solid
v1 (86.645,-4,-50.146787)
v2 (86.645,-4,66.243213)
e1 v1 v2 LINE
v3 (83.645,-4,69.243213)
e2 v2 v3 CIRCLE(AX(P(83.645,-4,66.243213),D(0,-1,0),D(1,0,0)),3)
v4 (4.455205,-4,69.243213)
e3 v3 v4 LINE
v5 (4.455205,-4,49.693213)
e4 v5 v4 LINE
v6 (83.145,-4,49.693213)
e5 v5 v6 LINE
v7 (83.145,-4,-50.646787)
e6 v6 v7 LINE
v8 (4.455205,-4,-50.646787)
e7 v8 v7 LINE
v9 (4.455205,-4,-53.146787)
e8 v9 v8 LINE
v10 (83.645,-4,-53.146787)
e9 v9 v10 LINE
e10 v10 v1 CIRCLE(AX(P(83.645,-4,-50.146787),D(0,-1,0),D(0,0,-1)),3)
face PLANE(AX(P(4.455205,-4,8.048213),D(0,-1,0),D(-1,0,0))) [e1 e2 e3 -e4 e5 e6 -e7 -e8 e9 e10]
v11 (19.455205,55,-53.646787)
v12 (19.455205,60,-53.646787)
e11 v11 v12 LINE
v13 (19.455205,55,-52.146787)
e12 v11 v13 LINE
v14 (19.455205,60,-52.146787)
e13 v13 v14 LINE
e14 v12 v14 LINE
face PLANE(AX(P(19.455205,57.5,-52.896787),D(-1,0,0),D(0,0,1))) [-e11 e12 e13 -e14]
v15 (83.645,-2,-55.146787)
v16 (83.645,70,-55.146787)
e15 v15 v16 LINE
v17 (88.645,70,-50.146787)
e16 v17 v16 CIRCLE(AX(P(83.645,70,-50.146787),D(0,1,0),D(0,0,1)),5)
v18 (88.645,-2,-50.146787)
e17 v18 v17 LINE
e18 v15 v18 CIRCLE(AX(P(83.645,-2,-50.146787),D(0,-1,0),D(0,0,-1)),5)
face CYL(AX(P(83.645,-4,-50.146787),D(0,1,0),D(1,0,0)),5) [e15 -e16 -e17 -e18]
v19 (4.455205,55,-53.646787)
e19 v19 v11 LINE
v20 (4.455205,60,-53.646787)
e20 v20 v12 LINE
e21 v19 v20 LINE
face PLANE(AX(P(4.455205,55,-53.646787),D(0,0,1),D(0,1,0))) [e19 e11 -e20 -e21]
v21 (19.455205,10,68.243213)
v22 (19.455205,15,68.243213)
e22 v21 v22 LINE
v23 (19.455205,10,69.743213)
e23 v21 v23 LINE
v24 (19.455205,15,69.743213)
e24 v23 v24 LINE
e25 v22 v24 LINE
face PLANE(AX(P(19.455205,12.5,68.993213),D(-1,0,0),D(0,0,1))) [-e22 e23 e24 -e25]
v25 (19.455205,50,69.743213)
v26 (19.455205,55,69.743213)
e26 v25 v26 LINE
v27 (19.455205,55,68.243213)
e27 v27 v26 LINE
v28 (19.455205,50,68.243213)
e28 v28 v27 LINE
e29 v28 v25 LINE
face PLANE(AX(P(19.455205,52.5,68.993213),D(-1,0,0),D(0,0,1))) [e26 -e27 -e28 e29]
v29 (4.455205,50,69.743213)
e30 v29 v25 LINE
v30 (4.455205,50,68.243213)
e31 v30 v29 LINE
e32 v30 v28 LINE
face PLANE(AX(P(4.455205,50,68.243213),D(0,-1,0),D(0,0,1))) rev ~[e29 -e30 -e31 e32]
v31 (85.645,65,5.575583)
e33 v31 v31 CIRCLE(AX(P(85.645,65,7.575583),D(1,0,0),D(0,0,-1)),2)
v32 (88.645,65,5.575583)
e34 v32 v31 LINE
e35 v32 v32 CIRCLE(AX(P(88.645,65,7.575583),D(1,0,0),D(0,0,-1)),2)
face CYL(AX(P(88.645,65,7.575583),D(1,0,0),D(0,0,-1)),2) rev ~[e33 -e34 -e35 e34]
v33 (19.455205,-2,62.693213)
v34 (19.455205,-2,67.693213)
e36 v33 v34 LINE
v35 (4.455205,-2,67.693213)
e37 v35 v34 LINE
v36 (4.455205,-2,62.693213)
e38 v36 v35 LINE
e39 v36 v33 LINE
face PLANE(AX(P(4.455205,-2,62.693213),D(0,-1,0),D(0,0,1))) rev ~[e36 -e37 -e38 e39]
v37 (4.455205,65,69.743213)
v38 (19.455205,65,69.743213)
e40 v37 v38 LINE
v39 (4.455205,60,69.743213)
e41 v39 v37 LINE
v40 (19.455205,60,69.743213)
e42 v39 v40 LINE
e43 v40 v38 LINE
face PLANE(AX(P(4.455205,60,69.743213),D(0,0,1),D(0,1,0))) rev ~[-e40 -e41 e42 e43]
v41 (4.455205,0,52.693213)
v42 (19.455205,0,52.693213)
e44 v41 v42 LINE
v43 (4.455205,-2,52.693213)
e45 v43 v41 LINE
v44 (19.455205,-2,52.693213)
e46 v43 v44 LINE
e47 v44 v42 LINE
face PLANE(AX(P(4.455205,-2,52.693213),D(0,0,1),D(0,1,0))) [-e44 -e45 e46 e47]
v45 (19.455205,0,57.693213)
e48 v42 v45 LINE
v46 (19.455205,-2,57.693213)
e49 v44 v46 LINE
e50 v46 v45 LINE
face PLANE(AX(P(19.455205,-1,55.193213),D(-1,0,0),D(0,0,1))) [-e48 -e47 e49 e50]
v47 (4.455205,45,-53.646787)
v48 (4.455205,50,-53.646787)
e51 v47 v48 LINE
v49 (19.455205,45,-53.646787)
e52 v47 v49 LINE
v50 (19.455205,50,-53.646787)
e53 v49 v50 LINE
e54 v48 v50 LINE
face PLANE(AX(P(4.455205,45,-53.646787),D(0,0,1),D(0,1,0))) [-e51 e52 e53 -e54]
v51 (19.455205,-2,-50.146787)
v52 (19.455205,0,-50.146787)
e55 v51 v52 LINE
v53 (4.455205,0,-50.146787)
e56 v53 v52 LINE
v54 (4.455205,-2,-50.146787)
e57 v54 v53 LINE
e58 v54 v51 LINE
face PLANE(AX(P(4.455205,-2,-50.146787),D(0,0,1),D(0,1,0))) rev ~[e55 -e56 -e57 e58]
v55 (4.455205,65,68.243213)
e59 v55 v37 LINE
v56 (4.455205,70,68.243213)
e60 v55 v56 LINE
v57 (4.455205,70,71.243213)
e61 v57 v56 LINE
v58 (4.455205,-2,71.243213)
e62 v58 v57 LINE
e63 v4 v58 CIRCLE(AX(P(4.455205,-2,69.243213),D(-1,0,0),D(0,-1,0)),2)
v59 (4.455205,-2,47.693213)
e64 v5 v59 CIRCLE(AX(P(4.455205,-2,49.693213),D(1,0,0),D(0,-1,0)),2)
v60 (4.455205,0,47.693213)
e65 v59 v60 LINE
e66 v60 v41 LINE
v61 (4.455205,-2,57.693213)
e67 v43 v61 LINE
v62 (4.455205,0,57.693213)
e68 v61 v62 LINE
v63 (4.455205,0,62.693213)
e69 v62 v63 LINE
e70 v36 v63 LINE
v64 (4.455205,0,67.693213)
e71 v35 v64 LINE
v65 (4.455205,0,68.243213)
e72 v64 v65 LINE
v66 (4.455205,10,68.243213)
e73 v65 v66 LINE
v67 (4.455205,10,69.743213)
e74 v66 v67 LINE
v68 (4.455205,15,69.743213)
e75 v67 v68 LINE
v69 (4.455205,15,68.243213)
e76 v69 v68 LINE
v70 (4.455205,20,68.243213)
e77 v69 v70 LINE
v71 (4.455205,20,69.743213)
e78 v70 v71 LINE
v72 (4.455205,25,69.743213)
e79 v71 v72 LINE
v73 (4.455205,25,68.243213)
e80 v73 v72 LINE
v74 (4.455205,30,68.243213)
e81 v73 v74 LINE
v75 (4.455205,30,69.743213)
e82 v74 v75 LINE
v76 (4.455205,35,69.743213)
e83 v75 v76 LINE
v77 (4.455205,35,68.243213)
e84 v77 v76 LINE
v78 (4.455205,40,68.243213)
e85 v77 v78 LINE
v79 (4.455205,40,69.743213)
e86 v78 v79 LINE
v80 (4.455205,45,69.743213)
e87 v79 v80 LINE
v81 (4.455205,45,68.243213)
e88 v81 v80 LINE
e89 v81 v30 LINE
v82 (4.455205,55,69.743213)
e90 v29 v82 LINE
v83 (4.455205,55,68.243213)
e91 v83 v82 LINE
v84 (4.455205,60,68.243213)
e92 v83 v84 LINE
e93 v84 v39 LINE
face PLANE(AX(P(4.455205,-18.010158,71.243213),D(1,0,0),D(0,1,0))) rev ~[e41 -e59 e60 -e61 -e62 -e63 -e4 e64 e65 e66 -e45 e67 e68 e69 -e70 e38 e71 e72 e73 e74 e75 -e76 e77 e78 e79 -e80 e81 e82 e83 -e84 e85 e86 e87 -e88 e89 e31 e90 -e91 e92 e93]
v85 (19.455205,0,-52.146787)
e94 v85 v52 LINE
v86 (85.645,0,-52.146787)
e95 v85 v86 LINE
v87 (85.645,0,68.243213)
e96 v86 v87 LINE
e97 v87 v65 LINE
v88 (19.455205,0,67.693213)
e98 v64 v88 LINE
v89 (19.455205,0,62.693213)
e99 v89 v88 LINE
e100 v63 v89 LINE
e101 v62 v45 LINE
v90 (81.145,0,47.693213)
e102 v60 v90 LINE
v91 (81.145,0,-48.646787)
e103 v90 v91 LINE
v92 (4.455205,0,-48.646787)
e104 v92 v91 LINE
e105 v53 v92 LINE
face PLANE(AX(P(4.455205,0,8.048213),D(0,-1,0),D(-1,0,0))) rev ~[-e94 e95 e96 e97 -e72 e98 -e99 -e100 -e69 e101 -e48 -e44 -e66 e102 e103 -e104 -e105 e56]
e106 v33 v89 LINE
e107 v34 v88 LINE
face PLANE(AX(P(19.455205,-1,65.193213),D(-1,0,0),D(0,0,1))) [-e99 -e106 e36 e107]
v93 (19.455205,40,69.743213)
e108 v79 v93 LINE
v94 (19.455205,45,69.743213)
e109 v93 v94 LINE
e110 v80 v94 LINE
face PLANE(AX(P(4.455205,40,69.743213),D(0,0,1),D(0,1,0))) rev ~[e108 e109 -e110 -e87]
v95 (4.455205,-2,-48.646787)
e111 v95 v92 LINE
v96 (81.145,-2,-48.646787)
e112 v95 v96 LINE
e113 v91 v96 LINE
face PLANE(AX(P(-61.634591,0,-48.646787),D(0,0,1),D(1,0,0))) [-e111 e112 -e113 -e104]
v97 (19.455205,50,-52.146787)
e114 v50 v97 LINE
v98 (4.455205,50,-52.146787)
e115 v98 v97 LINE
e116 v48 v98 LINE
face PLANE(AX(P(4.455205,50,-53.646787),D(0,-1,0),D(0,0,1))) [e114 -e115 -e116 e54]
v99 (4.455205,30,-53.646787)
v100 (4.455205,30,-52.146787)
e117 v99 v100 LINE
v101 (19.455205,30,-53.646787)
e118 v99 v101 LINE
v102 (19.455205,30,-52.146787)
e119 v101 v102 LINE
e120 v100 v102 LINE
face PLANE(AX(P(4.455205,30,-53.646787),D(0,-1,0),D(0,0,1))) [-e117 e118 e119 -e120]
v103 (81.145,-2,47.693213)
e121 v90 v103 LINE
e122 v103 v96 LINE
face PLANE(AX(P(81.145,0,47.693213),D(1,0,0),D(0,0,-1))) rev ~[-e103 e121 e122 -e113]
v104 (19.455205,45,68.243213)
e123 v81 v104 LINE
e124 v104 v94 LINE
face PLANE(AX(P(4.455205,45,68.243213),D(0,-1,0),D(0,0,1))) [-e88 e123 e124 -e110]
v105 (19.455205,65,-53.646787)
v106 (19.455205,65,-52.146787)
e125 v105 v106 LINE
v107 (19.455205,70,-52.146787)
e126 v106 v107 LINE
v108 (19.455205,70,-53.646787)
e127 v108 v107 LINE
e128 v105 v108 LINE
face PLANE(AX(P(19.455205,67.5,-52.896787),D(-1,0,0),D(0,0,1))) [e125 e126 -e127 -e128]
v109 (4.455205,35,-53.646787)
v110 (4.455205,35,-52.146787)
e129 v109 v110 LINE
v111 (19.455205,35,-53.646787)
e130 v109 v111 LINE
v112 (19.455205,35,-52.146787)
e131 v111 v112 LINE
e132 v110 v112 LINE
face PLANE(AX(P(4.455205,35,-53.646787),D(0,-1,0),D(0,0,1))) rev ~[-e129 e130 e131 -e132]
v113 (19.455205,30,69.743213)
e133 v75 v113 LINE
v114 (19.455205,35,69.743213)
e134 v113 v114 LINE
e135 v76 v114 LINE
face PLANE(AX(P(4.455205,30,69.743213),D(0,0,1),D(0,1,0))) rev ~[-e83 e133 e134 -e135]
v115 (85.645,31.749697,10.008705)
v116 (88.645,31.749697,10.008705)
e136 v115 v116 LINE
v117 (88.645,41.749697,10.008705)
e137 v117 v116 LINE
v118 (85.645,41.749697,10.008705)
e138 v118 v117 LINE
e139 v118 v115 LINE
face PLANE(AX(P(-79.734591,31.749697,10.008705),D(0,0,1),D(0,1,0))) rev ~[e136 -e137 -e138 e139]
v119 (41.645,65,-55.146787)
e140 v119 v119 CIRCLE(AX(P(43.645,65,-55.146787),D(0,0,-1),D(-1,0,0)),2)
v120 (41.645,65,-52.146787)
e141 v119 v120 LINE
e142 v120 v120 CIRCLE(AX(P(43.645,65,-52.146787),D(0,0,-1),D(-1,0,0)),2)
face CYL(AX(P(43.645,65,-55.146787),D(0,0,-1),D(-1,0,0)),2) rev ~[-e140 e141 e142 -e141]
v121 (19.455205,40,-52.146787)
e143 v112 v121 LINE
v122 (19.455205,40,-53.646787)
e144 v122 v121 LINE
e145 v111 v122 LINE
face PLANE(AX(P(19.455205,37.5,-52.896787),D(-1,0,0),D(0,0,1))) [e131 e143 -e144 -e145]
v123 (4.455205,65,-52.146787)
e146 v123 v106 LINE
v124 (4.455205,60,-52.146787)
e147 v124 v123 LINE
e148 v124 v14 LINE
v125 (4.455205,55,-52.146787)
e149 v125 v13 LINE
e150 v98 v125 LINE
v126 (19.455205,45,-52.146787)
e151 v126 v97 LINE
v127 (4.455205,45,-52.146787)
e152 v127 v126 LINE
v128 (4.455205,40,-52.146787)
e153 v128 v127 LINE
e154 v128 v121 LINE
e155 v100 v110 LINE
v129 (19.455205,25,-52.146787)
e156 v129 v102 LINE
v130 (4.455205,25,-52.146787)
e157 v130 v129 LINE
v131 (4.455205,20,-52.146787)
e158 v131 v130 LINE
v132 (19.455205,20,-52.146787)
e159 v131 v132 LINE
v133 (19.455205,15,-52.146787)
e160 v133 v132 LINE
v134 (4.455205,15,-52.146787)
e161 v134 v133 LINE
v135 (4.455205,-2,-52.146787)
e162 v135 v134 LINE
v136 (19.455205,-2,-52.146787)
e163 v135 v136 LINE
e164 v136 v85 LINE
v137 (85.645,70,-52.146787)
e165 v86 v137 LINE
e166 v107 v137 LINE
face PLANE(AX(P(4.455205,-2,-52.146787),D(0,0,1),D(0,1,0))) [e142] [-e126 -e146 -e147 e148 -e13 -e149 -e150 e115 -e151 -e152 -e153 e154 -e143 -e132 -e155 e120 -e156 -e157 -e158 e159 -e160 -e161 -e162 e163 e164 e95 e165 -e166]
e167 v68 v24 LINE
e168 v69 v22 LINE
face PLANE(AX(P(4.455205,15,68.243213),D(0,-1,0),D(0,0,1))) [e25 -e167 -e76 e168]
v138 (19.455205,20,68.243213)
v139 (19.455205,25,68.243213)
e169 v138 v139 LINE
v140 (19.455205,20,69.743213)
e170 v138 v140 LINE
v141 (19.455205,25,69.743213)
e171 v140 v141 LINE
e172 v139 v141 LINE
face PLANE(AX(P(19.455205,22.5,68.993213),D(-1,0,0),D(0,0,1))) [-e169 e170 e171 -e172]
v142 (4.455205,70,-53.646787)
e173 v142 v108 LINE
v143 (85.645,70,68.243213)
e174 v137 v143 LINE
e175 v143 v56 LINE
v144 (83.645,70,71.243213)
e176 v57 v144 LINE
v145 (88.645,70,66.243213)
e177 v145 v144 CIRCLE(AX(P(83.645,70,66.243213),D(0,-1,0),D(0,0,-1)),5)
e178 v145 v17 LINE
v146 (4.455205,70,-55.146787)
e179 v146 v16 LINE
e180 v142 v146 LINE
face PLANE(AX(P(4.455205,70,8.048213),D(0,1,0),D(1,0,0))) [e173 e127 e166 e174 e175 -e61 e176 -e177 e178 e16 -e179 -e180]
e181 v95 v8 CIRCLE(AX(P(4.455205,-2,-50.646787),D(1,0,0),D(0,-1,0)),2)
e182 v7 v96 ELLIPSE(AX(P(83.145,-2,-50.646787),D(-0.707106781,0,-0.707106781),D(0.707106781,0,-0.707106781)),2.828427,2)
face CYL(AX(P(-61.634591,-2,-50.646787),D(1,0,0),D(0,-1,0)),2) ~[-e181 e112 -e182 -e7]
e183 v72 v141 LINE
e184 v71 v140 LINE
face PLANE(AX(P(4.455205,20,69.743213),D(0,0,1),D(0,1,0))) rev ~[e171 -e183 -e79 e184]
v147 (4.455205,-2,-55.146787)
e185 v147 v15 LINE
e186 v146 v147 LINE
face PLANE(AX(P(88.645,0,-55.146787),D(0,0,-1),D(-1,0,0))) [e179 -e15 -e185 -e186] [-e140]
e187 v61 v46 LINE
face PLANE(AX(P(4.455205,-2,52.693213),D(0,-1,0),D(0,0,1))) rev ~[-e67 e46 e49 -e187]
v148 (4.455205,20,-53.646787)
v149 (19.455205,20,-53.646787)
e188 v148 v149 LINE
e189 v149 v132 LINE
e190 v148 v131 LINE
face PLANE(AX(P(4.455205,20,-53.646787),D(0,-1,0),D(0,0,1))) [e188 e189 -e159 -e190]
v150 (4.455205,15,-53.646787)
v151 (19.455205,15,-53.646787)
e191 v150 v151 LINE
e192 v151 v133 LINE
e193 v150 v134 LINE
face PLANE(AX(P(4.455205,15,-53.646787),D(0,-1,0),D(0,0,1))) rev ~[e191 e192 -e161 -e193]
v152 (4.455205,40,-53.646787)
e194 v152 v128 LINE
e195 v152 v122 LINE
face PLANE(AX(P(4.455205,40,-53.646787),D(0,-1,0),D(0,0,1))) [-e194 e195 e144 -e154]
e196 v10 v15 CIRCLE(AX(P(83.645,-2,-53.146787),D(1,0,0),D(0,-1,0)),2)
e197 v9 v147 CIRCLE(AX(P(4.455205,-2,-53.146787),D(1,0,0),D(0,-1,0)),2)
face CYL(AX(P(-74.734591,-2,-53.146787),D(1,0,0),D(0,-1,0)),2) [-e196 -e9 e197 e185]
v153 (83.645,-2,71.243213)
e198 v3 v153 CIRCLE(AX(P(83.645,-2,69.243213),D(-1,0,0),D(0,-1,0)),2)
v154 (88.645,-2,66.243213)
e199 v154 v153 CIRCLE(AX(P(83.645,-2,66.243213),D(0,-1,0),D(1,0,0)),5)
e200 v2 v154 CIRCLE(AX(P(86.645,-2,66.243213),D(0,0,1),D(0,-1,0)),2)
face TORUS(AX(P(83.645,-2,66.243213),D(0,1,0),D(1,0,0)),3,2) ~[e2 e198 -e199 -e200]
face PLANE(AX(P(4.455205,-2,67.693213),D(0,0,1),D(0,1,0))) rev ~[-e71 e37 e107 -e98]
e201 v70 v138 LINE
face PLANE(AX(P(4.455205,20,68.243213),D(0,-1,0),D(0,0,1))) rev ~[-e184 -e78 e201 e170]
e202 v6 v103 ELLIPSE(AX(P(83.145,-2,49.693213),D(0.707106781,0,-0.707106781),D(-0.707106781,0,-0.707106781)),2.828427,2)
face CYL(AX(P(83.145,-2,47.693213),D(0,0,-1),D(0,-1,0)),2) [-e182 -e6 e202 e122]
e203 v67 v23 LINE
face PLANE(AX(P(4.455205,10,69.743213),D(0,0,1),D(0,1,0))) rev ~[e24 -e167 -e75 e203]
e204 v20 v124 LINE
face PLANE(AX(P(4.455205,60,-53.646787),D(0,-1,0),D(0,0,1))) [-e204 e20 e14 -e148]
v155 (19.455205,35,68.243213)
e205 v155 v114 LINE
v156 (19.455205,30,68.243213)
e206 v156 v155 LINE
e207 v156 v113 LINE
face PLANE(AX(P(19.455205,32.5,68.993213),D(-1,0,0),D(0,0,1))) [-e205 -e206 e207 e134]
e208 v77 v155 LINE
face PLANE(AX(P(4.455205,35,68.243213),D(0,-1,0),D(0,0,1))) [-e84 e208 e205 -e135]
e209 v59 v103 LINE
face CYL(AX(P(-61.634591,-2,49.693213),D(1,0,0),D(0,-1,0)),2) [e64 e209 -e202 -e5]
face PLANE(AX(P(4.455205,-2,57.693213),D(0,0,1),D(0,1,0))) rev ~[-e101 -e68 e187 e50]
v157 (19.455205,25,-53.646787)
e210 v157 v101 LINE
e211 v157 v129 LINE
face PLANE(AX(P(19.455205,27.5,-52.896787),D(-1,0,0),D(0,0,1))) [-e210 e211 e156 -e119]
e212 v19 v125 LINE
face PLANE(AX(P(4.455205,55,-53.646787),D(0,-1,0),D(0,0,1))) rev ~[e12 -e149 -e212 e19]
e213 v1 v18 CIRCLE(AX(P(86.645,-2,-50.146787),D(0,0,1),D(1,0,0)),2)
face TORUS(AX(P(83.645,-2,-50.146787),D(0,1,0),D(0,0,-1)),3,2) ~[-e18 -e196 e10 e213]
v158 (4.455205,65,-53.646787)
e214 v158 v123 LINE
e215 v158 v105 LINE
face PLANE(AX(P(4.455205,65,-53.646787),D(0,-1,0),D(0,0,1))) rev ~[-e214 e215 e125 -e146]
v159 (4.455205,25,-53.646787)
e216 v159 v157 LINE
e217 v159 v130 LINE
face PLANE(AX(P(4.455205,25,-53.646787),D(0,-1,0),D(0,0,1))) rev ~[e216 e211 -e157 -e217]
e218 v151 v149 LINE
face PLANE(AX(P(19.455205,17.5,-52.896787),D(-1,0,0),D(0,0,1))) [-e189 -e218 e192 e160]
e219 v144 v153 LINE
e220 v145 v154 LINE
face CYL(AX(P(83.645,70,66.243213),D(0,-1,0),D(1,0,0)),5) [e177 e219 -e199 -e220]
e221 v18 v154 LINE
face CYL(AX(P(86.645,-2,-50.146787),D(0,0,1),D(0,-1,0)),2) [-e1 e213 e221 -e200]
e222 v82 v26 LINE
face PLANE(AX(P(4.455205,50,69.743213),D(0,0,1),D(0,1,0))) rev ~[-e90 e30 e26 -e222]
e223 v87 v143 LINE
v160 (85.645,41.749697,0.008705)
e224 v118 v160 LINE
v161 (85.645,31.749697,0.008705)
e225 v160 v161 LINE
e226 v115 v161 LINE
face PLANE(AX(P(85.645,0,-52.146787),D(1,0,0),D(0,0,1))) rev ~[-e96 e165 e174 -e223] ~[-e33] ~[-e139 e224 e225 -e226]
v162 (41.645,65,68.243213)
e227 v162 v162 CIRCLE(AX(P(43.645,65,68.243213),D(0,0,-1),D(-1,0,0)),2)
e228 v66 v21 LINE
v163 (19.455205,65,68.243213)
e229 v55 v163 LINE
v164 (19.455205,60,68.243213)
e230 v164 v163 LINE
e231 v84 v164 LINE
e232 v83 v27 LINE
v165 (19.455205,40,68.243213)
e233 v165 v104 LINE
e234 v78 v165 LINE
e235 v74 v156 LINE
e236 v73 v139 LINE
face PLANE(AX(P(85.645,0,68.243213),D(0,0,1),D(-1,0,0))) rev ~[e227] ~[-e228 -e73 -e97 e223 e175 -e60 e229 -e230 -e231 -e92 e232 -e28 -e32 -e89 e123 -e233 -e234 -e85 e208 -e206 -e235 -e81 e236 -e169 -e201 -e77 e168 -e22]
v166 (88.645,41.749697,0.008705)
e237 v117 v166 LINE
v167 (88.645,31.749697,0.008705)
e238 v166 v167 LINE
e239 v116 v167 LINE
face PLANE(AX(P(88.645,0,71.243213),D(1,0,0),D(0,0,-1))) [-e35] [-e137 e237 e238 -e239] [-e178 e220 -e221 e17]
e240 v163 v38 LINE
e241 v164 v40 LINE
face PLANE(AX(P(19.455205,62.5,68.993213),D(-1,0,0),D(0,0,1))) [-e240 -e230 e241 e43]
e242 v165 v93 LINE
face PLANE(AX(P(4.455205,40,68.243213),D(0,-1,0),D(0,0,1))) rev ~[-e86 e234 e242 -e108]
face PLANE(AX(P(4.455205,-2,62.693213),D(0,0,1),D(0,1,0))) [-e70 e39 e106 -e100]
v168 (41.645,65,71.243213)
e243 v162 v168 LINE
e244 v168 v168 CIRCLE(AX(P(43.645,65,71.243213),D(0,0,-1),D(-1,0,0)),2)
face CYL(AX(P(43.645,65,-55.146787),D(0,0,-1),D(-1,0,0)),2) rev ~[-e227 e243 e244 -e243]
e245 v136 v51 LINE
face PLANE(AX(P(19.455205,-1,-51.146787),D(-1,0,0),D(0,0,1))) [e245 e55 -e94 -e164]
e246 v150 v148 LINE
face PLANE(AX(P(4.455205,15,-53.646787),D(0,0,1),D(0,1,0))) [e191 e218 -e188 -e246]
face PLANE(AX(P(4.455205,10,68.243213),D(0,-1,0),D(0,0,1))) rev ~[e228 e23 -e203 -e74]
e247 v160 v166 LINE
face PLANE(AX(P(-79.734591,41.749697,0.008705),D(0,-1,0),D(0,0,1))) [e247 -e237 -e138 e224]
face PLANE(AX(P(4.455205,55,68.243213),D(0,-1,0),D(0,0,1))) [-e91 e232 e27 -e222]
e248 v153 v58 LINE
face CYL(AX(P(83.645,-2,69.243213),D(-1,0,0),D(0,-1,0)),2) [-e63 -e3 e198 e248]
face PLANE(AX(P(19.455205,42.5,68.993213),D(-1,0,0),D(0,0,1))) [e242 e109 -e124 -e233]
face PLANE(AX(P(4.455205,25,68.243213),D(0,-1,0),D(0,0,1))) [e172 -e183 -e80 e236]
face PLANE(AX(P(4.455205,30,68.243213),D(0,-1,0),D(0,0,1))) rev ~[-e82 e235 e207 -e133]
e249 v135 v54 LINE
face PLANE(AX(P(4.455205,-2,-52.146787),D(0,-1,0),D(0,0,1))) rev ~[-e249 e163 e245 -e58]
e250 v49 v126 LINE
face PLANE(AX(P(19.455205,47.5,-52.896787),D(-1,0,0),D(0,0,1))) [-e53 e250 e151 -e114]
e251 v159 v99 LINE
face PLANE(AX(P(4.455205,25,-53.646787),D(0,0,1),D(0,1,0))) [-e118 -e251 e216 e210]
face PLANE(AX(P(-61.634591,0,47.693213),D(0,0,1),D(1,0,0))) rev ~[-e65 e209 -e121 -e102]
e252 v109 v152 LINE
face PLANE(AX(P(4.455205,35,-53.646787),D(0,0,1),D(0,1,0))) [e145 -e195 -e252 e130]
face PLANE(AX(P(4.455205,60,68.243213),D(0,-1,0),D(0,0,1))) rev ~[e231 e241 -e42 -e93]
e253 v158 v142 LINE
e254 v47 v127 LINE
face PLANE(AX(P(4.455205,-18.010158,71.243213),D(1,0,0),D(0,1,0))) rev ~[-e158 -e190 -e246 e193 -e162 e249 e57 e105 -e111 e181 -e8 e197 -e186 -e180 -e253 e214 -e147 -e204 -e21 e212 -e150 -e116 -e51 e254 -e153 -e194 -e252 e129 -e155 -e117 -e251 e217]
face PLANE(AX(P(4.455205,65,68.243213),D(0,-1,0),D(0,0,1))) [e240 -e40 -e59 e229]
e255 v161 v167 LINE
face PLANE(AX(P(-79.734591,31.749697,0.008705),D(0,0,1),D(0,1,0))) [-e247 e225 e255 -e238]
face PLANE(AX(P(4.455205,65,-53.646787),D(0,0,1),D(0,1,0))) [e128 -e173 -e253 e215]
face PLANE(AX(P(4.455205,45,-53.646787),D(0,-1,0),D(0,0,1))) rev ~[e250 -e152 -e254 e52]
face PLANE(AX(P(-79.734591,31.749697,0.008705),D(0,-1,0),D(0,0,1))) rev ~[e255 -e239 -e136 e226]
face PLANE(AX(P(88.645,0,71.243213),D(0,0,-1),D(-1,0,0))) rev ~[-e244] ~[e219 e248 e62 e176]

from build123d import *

# Parameters (mm, degrees)
SKETCH1_W           = 168.379590863
SKETCH1_H           = 126.39
BOSS_EXTRUDE1_DEPTH = 70
SKETCH2_W           = 168.379590863
SKETCH2_H           = 126.39
BOSS_EXTRUDE2_DEPTH = 4
SKETCH3_W           = 142.779590863
SKETCH3_H           = 96.34
CUT_EXTRUDE1_DEPTH  = 4
FILLET1_R           = 5
FILLET4_R           = 2
FILLET5_R           = 2
SKETCH4_W           = 10
SKETCH4_H           = 10
CUT_EXTRUDE2_DEPTH  = 195
SKETCH6_R           = 2
CUT_EXTRUDE3_DEPTH  = 195
SKETCH8_R           = 2
CUT_EXTRUDE4_DEPTH  = 195
SKETCH9_W           = 103.95032351
SKETCH9_H           = 88.010158037
CUT_EXTRUDE5_DEPTH  = 201
SKETCH10_W          = 5
SKETCH10_H          = 2
SKETCH10_W_2        = 2
CUT_EXTRUDE6_DEPTH  = 15
SKETCH11_W          = 1.5
SKETCH11_H          = 5
CUT_EXTRUDE7_DEPTH  = 15
SKETCH12_W          = 1.5
SKETCH12_H          = 5
CUT_EXTRUDE8_DEPTH  = 15


with BuildPart() as part:
    # Sketch1 → Boss-Extrude1 (new body)
    with BuildSketch(Plane(origin=(0, 0, 0), x_dir=(1, 0, 0), z_dir=(0, 1, 0))):
        with Locations((4.455204569, -8.048213198)):
            Rectangle(SKETCH1_W, SKETCH1_H)
        Polygon((-76.734590863, 32.146786802), (-76.734590863, 52.146786802), (85.645, 52.146786802), (85.645, -68.243213198), (60.555409137, -68.243213198), (-76.734590863, -68.243213198), align=None, mode=Mode.SUBTRACT)
    extrude(amount=BOSS_EXTRUDE1_DEPTH)

    # Sketch2 → Boss-Extrude2 (add)
    with BuildSketch(Plane(origin=(0, 0, 0), x_dir=(-1, 0, 0), z_dir=(0, -1, 0))):
        with Locations((-4.455204569, -8.048213198)):
            Rectangle(SKETCH2_W, SKETCH2_H)
    extrude(amount=BOSS_EXTRUDE2_DEPTH)

    # Sketch3 → Cut-Extrude1 (cut)
    with BuildSketch(Plane(origin=(0, 0, 0), x_dir=(1, 0, 0), z_dir=(0, 1, 0))):
        with Locations((9.755204569, 0.476786802)):
            Rectangle(SKETCH3_W, SKETCH3_H)
    extrude(amount=-CUT_EXTRUDE1_DEPTH, mode=Mode.SUBTRACT)

    # Fillet1
    fillet1_edges = [part.edges().sort_by_distance(p)[0] for p in [
        (-79.734590863, 33, -55.146786802),
        (88.645, 33, -55.146786802),
        (88.645, 33, 71.243213198),
        (-79.734590863, 33, 71.243213198),
    ]]
    fillet(fillet1_edges, radius=FILLET1_R)

    # Fillet4
    fillet4_edges = [part.edges().sort_by_distance(p)[0] for p in [
        (4.455204569, -4, 71.243213198),
        (-79.734590863, -4, 8.048213198),
        (4.455204569, -4, -55.146786802),
        (88.645, -4, 8.048213198),
        (87.180533906, -4, 69.778747104),
        (87.180533906, -4, -53.682320708),
        (-78.270124769, -4, -53.682320708),
        (-78.270124769, -4, 69.778747104),
    ]]
    fillet(fillet4_edges, radius=FILLET4_R)

    # Fillet5
    fillet5_edges = [part.edges().sort_by_distance(p)[0] for p in [
        (81.145, -4, -0.476786802),
        (9.755204569, -4, 47.693213198),
        (-61.634590863, -4, -0.476786802),
        (9.755204569, -4, -48.646786802),
    ]]
    fillet(fillet5_edges, radius=FILLET5_R)

    # Sketch4 → Cut-Extrude2 (cut)
    with BuildSketch(Plane.ZY.offset(79.734590863)):
        with Locations((5.00870497, 36.749697215)):
            Rectangle(SKETCH4_W, SKETCH4_H)
    extrude(amount=-CUT_EXTRUDE2_DEPTH, mode=Mode.SUBTRACT)

    # Sketch6 → Cut-Extrude3 (cut)
    with BuildSketch(Plane(origin=(88.645, 0, 0), x_dir=(0, 0, -1), z_dir=(1, 0, 0))):
        with Locations((-7.57558331, 65)):
            Circle(SKETCH6_R)
    extrude(amount=-CUT_EXTRUDE3_DEPTH, mode=Mode.SUBTRACT)

    # Sketch8 → Cut-Extrude4 (cut)
    with BuildSketch(Plane(origin=(0, 0, -55.146786802), x_dir=(-1, 0, 0), z_dir=(0, 0, -1))):
        with Locations((-43.645, 65)):
            Circle(SKETCH8_R)
        with Locations((34.734590863, 65)):
            Circle(SKETCH8_R)
    extrude(amount=-CUT_EXTRUDE4_DEPTH, mode=Mode.SUBTRACT)

    # Sketch9 → Cut-Extrude5 (cut)
    with BuildSketch(Plane.XY.offset(71.243213198)):
        with Locations((-47.519957186, 25.994920982)):
            Rectangle(SKETCH9_W, SKETCH9_H)
    extrude(amount=-CUT_EXTRUDE5_DEPTH, mode=Mode.SUBTRACT)

    # Sketch10 → Cut-Extrude6 (cut)
    with BuildSketch(Plane.ZY.offset(-4.455204569)):
        with Locations((55.193213198, -1)):
            Rectangle(SKETCH10_W, SKETCH10_H)
        with Locations((65.193213198, -1)):
            Rectangle(SKETCH10_W, SKETCH10_H)
        with Locations((-51.146786802, -1)):
            Rectangle(SKETCH10_W_2, SKETCH10_H)
    extrude(amount=-CUT_EXTRUDE6_DEPTH, mode=Mode.SUBTRACT)

    # Sketch11 → Cut-Extrude7 (cut)
    with BuildSketch(Plane.ZY.offset(-4.455204569)):
        with Locations((68.993213198, 62.5)):
            Rectangle(SKETCH11_W, SKETCH11_H)
        with Locations((68.993213198, 52.5)):
            Rectangle(SKETCH11_W, SKETCH11_H)
        with Locations((68.993213198, 42.5)):
            Rectangle(SKETCH11_W, SKETCH11_H)
        with Locations((68.993213198, 32.5)):
            Rectangle(SKETCH11_W, SKETCH11_H)
        with Locations((68.993213198, 22.5)):
            Rectangle(SKETCH11_W, SKETCH11_H)
        with Locations((68.993213198, 12.5)):
            Rectangle(SKETCH11_W, SKETCH11_H)
    extrude(amount=-CUT_EXTRUDE7_DEPTH, mode=Mode.SUBTRACT)

    # Sketch12 → Cut-Extrude8 (cut)
    with BuildSketch(Plane.ZY.offset(-4.455204569)):
        with Locations((-52.896786802, 57.5)):
            Rectangle(SKETCH12_W, SKETCH12_H)
        with Locations((-52.896786802, 67.5)):
            Rectangle(SKETCH12_W, SKETCH12_H)
        with Locations((-52.896786802, 47.5)):
            Rectangle(SKETCH12_W, SKETCH12_H)
        with Locations((-52.896786802, 37.5)):
            Rectangle(SKETCH12_W, SKETCH12_H)
        with Locations((-52.896786802, 27.5)):
            Rectangle(SKETCH12_W, SKETCH12_H)
        with Locations((-52.896786802, 17.5)):
            Rectangle(SKETCH12_W, SKETCH12_H)
    extrude(amount=-CUT_EXTRUDE8_DEPTH, mode=Mode.SUBTRACT)


solid = part.part
